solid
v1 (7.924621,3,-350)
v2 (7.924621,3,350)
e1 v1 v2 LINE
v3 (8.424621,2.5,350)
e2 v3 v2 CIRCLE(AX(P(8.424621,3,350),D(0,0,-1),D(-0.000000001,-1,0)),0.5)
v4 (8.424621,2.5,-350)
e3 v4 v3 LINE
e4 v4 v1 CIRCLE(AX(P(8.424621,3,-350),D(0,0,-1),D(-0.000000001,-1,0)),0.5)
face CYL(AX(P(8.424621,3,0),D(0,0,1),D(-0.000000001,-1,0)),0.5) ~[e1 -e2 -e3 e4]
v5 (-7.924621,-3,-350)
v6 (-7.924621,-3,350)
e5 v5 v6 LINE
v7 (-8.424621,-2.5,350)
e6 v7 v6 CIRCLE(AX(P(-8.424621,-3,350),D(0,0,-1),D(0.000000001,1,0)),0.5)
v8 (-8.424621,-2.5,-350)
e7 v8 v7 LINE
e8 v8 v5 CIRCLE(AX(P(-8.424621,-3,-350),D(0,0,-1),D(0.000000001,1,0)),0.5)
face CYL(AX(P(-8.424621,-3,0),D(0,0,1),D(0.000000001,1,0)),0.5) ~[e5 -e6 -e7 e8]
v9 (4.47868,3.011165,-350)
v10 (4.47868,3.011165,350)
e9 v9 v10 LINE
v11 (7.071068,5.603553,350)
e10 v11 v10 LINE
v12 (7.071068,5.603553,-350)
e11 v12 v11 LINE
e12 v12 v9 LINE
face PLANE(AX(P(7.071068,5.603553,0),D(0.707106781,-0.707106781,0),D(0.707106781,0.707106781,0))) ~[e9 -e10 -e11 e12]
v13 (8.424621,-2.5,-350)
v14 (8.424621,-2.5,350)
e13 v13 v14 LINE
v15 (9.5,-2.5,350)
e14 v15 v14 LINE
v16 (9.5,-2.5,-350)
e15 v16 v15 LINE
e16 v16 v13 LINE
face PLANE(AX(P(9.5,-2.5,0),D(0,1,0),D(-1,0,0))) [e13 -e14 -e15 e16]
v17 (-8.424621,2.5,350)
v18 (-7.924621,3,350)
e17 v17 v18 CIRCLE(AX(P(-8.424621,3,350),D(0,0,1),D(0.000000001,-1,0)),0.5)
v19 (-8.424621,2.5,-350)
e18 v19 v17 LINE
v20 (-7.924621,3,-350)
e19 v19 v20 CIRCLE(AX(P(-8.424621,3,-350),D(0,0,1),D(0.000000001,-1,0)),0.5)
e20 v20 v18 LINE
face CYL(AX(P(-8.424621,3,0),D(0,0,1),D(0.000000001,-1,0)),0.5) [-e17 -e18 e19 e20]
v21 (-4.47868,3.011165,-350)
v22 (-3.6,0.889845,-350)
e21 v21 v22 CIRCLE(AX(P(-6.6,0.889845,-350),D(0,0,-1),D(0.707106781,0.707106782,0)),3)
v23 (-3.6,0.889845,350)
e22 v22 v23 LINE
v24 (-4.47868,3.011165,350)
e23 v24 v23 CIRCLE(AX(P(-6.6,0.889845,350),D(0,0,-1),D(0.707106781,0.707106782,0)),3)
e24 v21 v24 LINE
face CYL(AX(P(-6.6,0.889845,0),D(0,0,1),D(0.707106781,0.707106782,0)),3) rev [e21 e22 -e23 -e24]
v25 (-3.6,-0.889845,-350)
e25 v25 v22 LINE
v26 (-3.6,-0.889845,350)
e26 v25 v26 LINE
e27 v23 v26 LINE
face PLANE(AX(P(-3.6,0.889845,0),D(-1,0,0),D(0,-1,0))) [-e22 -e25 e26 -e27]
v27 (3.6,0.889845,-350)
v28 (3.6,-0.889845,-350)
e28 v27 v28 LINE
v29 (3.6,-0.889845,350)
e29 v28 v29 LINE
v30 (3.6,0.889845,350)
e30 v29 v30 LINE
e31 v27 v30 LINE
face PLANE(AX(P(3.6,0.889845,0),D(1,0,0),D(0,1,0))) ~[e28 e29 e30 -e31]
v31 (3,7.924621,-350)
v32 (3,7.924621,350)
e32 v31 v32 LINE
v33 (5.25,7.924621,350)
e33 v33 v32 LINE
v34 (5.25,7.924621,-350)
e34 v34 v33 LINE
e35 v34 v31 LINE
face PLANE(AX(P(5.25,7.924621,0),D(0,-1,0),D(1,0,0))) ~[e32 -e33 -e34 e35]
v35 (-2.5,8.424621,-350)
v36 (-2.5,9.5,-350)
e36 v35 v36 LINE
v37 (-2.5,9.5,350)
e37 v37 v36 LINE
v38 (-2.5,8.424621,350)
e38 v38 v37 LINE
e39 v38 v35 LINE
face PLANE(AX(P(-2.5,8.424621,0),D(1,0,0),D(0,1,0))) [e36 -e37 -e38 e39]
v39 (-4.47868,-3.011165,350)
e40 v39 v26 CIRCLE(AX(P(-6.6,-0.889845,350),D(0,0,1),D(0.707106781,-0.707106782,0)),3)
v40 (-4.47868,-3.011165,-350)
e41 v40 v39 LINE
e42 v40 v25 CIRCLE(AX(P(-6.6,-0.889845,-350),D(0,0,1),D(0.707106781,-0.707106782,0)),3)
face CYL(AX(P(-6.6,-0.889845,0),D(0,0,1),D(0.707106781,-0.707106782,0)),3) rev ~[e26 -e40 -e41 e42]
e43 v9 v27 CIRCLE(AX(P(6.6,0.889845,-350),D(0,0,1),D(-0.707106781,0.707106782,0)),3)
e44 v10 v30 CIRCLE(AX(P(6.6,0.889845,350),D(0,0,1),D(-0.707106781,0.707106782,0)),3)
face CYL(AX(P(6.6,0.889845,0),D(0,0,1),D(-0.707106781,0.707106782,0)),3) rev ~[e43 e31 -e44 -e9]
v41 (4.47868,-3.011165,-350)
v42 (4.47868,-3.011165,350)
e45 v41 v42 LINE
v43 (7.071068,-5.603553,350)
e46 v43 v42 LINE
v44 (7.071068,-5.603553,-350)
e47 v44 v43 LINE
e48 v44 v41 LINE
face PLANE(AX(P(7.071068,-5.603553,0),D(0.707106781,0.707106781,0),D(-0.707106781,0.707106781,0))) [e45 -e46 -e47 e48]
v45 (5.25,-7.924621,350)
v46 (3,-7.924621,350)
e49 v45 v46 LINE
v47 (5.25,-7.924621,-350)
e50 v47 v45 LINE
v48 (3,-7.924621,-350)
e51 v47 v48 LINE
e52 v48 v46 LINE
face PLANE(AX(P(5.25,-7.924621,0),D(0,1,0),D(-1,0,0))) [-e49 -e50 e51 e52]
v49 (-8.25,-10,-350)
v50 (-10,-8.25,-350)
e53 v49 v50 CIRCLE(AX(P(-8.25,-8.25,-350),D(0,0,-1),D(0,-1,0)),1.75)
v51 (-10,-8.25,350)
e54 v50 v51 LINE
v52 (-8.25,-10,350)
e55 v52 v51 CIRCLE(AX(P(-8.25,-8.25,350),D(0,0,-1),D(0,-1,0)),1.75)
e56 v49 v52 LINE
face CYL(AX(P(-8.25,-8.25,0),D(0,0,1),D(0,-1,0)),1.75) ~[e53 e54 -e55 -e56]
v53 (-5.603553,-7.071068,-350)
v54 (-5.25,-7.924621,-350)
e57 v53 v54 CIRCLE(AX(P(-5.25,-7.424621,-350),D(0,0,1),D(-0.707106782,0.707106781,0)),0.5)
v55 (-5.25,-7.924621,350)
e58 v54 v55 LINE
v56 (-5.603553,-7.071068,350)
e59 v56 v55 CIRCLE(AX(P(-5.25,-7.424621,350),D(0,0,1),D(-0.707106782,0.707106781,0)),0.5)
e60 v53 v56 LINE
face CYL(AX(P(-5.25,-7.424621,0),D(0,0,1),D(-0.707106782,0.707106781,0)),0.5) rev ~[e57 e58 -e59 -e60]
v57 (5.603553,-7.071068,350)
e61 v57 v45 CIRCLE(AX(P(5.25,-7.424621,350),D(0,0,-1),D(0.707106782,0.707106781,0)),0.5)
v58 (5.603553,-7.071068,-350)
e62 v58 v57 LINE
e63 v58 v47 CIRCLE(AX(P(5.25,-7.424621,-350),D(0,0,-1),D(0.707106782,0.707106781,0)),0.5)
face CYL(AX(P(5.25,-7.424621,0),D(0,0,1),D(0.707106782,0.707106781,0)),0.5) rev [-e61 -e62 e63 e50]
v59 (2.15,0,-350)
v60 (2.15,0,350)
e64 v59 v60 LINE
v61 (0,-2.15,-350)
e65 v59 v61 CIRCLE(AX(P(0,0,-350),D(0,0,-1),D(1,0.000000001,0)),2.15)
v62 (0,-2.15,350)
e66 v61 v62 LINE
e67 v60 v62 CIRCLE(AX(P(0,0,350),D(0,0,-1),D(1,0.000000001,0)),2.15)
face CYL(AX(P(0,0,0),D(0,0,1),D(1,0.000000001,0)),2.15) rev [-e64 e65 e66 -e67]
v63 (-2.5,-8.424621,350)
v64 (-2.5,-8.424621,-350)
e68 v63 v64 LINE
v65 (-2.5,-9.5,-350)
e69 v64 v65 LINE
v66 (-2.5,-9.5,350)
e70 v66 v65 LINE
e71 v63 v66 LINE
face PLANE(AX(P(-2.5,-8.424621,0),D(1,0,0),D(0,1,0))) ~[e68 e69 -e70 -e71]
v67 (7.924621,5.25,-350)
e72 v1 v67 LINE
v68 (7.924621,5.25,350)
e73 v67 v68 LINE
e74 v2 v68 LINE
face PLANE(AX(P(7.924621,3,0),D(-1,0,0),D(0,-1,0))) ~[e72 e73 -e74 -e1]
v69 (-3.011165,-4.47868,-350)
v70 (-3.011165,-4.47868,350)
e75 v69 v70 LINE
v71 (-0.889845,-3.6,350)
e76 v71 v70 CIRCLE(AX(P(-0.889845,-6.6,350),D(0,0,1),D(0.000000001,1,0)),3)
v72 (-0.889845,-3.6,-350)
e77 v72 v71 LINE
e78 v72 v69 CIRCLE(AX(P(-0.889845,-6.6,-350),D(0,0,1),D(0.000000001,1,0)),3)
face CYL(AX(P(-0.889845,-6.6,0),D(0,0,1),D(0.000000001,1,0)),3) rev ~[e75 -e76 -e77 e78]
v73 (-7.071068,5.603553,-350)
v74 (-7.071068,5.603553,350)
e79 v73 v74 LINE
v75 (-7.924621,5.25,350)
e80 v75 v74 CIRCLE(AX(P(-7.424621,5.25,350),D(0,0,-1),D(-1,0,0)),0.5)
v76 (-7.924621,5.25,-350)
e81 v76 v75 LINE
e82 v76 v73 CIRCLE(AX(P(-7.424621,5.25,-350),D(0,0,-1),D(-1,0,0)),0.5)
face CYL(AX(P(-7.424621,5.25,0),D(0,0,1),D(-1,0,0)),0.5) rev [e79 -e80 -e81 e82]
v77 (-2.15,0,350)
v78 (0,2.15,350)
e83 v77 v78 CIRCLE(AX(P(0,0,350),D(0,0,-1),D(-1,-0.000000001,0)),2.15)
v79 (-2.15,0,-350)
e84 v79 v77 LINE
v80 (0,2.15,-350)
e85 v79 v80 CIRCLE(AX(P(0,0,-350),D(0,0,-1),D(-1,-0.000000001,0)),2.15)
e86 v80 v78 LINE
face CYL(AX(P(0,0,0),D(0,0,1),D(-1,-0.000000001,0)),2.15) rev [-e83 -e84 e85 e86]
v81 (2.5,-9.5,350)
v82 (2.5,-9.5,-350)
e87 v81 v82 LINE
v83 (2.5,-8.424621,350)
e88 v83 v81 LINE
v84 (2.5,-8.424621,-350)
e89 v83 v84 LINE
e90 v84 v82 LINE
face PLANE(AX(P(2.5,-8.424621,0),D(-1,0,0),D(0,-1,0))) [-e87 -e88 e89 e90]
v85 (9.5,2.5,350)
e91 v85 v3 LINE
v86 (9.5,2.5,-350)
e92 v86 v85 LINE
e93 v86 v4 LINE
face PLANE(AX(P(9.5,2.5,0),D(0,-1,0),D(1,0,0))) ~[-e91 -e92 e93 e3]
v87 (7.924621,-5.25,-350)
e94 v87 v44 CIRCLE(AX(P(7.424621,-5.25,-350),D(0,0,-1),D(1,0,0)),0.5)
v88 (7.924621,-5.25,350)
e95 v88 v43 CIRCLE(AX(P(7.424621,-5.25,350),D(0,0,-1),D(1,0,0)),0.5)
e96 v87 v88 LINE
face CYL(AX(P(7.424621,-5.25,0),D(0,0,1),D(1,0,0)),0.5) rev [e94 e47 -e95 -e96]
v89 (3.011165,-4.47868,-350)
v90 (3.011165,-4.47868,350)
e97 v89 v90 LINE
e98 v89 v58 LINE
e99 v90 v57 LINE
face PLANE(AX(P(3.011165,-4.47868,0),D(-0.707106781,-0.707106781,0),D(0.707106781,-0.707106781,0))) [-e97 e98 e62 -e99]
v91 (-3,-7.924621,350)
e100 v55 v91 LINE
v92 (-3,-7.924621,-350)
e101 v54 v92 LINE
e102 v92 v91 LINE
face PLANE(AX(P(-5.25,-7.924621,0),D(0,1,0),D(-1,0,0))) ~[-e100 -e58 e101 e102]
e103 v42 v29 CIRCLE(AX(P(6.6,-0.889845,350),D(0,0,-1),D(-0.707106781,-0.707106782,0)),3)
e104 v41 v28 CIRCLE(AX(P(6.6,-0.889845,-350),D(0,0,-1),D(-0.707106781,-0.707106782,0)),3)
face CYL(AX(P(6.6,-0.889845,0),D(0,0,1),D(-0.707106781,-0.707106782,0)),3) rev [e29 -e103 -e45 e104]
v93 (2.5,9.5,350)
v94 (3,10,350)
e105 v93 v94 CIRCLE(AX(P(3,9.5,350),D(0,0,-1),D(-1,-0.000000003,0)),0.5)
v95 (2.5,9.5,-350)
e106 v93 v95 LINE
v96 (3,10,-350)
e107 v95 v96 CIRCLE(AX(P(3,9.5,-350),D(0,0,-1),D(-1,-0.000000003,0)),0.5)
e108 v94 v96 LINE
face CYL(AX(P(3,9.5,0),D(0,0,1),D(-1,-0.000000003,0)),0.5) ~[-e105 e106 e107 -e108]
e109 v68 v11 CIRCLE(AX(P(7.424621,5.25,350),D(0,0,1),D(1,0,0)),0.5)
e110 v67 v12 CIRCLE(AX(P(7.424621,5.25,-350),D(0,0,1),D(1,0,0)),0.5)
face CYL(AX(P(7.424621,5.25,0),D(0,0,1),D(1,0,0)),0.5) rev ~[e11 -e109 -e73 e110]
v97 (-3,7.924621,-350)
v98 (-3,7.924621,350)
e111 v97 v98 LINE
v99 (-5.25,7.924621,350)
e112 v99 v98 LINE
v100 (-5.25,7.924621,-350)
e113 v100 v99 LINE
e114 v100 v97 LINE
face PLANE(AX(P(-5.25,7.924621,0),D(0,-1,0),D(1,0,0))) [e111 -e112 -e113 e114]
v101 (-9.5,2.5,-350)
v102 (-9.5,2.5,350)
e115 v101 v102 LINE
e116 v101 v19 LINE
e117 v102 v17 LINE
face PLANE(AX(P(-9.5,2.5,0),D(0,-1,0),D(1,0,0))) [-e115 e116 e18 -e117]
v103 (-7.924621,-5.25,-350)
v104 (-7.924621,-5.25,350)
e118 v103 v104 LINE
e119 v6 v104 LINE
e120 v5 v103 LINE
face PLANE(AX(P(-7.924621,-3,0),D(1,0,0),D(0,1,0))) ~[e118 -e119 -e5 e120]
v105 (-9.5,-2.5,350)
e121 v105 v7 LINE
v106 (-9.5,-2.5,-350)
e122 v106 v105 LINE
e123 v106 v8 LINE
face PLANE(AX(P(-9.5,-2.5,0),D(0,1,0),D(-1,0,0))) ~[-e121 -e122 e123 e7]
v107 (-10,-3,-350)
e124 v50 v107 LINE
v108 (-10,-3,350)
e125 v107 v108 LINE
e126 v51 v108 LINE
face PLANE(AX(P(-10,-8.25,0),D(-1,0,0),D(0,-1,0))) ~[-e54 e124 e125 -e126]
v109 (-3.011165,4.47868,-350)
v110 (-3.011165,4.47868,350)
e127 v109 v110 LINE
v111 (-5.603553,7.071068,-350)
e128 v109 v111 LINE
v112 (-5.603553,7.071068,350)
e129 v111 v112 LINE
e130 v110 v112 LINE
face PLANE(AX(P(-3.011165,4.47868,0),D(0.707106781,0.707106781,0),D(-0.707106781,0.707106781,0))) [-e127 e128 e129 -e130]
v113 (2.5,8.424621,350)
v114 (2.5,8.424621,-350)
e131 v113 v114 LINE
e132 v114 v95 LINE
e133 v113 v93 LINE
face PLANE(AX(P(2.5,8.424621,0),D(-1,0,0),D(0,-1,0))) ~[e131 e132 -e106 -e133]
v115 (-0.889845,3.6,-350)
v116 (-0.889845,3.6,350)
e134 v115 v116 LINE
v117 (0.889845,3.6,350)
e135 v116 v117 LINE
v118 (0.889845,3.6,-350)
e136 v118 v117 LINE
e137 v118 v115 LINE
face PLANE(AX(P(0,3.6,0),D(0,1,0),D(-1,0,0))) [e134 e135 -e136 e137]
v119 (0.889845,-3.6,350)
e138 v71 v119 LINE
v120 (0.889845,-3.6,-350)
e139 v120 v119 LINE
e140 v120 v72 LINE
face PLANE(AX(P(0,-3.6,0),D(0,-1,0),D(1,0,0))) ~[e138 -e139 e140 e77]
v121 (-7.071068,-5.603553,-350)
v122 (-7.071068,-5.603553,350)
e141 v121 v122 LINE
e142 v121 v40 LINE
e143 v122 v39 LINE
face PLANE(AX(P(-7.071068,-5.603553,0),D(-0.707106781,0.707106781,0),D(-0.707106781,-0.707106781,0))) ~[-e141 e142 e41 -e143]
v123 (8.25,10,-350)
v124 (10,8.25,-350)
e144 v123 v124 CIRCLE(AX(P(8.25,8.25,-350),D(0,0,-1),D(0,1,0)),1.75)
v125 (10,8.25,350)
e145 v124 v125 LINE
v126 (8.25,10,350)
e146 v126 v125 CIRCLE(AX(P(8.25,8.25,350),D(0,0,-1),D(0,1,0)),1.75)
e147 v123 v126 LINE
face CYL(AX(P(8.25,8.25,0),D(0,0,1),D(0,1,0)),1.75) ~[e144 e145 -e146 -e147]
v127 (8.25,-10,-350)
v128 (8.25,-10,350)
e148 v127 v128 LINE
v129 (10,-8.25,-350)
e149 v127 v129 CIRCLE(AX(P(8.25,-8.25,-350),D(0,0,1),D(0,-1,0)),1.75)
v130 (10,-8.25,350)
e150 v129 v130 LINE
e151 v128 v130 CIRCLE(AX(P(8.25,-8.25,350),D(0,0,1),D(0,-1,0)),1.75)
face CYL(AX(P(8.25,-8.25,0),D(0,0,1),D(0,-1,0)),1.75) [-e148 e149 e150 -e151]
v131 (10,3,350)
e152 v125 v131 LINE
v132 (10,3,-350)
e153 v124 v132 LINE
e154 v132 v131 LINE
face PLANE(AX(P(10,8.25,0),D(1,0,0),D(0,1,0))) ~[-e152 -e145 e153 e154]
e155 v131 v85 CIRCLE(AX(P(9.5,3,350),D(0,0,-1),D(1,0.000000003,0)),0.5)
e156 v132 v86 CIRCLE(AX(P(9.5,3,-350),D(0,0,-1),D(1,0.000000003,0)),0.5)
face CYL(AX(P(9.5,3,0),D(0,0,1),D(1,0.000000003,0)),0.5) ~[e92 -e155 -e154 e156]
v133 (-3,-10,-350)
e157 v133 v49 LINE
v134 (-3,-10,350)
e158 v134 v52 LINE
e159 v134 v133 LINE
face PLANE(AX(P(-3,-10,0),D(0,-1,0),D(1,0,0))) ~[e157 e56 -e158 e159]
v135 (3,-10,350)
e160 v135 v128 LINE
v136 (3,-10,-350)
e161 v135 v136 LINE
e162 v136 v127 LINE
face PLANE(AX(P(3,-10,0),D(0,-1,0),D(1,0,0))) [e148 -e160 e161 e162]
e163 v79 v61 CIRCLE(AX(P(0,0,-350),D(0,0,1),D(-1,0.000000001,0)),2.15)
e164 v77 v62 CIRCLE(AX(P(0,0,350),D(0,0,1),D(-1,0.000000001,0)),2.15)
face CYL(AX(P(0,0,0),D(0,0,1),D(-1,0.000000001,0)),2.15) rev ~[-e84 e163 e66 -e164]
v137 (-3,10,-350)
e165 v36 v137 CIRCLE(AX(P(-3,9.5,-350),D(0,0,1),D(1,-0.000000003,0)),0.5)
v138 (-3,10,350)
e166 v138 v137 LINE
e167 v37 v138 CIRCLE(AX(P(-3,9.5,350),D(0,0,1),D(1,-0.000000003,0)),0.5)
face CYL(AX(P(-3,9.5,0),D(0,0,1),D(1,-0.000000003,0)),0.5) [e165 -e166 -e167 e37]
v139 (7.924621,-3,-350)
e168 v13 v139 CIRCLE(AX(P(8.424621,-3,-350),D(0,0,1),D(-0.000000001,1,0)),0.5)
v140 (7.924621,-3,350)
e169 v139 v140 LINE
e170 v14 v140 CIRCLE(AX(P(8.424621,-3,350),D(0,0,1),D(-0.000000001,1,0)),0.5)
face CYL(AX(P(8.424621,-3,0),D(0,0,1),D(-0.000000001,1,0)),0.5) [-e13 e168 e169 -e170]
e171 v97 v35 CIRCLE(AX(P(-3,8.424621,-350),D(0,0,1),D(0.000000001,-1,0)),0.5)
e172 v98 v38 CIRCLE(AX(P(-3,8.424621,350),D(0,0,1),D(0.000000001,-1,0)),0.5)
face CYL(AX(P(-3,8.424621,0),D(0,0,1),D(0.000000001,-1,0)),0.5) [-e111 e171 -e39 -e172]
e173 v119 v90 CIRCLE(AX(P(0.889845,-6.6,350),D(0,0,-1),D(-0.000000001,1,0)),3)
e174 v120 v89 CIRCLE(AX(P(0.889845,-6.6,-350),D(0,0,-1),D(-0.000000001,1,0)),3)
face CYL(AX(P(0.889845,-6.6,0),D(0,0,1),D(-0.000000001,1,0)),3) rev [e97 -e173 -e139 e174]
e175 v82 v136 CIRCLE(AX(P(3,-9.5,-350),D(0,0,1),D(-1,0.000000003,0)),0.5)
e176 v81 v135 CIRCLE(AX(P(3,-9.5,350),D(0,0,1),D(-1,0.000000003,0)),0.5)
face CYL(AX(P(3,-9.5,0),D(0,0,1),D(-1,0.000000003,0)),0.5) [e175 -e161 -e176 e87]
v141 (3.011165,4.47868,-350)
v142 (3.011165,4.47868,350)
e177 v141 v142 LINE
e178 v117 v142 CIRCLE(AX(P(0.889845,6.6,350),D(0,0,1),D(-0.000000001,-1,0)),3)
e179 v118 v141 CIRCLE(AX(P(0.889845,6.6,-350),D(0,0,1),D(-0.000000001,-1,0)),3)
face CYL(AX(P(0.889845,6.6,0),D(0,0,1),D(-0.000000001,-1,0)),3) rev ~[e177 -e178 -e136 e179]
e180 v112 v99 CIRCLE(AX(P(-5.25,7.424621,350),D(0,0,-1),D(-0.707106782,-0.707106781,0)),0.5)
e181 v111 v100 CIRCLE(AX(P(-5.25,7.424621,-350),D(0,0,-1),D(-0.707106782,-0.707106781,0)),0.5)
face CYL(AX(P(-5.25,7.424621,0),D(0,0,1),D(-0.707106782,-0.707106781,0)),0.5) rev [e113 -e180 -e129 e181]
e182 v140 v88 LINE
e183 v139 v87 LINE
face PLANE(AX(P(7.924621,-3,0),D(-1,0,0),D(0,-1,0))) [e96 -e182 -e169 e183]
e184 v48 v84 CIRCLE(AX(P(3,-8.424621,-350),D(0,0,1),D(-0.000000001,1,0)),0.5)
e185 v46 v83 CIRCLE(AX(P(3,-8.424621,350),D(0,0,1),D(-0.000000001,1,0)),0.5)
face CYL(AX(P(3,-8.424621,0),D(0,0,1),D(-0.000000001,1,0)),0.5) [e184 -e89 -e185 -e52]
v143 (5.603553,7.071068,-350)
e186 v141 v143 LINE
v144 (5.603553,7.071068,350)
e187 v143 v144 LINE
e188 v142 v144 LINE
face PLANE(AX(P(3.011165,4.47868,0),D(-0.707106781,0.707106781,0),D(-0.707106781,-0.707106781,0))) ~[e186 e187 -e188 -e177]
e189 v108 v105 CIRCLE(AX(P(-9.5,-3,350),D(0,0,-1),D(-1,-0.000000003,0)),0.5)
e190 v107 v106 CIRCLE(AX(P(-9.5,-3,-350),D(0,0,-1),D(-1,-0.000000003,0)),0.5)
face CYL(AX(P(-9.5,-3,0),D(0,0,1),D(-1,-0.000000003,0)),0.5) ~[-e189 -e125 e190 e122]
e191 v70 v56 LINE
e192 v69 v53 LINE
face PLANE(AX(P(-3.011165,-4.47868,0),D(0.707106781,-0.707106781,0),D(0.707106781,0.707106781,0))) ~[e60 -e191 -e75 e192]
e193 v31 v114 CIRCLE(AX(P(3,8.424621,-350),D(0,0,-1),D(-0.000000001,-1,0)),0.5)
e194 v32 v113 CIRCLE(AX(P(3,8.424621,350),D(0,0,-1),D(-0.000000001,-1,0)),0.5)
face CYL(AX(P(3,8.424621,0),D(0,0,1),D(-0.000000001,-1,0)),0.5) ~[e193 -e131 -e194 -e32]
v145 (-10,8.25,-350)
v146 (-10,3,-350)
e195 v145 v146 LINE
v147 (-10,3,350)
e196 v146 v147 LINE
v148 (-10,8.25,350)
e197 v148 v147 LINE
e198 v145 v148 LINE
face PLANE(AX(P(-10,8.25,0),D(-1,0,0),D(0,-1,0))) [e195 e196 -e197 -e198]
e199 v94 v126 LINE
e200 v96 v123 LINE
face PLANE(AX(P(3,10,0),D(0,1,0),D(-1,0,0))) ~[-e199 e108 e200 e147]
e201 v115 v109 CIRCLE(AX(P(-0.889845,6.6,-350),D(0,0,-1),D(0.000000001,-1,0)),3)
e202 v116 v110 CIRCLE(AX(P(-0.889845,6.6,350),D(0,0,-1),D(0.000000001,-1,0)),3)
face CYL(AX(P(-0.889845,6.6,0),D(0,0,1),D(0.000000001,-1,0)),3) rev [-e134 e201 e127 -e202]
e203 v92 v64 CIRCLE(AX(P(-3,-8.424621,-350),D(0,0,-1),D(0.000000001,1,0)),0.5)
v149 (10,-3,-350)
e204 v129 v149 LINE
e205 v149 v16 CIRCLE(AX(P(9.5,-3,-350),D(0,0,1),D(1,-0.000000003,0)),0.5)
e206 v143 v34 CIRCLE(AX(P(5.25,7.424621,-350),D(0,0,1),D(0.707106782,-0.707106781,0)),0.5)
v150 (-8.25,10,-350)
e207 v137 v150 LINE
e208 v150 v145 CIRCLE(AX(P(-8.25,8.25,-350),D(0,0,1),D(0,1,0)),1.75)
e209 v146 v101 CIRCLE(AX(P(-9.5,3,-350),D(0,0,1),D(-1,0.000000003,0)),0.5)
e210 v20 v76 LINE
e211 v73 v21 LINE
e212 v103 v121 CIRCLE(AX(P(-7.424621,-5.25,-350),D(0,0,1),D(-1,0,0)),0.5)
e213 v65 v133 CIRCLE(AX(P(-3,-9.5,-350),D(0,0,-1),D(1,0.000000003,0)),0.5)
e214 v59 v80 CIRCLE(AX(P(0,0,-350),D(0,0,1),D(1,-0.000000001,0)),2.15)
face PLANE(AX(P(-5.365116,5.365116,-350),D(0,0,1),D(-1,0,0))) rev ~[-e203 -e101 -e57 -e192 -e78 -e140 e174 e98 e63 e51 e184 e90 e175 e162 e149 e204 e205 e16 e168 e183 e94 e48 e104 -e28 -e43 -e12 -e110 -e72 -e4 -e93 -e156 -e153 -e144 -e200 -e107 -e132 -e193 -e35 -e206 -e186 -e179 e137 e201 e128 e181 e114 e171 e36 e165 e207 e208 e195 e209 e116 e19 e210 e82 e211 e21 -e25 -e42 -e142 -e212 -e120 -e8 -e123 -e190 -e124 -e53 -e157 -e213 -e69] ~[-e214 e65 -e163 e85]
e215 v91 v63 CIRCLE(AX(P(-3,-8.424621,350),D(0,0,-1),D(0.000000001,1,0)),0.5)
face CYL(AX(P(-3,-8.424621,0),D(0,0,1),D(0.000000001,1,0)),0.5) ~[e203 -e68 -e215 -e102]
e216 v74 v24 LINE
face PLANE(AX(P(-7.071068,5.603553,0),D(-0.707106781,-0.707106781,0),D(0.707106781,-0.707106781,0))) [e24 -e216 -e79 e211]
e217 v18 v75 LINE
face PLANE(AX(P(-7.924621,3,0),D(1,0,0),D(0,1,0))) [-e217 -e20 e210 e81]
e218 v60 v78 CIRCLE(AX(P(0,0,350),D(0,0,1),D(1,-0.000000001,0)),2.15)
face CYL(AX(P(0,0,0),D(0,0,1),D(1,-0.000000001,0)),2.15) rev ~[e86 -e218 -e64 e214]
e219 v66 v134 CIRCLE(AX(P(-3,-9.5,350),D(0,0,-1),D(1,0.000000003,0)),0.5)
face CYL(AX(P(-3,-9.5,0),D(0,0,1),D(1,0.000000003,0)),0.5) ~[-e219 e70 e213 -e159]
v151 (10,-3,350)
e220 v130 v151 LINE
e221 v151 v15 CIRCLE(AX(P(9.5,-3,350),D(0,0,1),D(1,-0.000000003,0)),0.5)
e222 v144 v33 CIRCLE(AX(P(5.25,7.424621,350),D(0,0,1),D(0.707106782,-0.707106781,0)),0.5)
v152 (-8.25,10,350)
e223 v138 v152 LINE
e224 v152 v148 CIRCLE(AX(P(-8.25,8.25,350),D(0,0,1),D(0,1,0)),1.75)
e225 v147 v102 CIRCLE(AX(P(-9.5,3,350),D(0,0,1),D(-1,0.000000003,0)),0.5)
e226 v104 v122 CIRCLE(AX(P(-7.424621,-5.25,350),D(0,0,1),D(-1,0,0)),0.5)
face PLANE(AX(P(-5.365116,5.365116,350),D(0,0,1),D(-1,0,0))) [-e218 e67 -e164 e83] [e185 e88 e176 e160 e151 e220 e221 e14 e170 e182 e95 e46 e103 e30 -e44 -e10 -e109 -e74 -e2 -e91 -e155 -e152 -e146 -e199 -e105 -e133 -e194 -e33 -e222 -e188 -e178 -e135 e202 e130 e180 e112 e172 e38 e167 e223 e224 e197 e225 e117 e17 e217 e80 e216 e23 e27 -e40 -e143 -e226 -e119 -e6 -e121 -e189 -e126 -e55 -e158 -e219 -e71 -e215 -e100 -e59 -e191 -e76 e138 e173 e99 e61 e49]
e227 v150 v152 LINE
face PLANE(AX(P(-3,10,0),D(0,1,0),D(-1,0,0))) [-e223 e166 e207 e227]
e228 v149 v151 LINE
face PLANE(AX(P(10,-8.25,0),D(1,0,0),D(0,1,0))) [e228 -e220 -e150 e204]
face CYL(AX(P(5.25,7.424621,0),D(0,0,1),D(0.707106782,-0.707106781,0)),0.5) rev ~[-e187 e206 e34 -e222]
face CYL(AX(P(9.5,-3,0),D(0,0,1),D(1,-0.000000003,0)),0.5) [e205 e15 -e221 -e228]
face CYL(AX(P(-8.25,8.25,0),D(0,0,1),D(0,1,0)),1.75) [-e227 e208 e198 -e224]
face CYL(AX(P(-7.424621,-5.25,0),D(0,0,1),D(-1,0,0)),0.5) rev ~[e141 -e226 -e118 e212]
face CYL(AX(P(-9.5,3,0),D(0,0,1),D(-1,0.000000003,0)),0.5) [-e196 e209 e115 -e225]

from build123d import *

# Parameters (mm, degrees)
BOSS_EXTRUDE1_DEPTH = 350


with BuildPart() as part:
    # Sketch4 → Boss-Extrude1 (new, symmetric)
    with BuildSketch(Plane.XY):
        with BuildLine():
            Line((3, -10), (8.25, -10))
            ThreePointArc((8.25, -10), (9.487436867, -9.487436867), (10, -8.25))
            Line((10, -8.25), (10, -3))
            ThreePointArc((10, -3), (9.853553391, -2.646446609), (9.5, -2.5))
            Line((9.5, -2.5), (8.424621202, -2.5))
            ThreePointArc((8.424621202, -2.5), (8.071067812, -2.646446609), (7.924621202, -3))
            Line((7.924621202, -3), (7.924621202, -5.25))
            ThreePointArc((7.924621202, -5.25), (7.615962919, -5.711939766), (7.071067812, -5.603553391))
            Line((7.071067812, -5.603553391), (4.478679656, -3.011165235))
            ThreePointArc((4.478679656, -3.011165235), (3.828361402, -2.037895189), (3.6, -0.889844892))
            Line((3.6, -0.889844892), (3.6, 0))
            Line((3.6, 0), (2.15, 0))
            ThreePointArc((2.15, 0), (1.52027958, -1.52027958), (0, -2.15))
            Line((0, -2.15), (0, -3.6))
            Line((0, -3.6), (0.889844892, -3.6))
            ThreePointArc((0.889844892, -3.6), (2.037895189, -3.828361402), (3.011165235, -4.478679656))
            Line((3.011165235, -4.478679656), (5.603553391, -7.071067812))
            ThreePointArc((5.603553391, -7.071067812), (5.711939766, -7.615962919), (5.25, -7.924621202))
            Line((5.25, -7.924621202), (3, -7.924621202))
            ThreePointArc((3, -7.924621202), (2.646446609, -8.071067812), (2.5, -8.424621202))
            Line((2.5, -8.424621202), (2.5, -9.5))
            ThreePointArc((2.5, -9.5), (2.646446609, -9.853553391), (3, -10))
        make_face()
    extrude(amount=BOSS_EXTRUDE1_DEPTH, both=True)

    # Mirror1: part across plane


with BuildPart() as part_1:
    add(part.part)
    add(part.part.mirror(Plane(origin=(0, 0, 0), x_dir=(0, 0, 1), z_dir=(1, 0, 0))))

    # Mirror2: part across plane


with BuildPart() as part_2:
    add(part_1.part)
    add(part_1.part.mirror(Plane.ZX))


solid = part_2.part
